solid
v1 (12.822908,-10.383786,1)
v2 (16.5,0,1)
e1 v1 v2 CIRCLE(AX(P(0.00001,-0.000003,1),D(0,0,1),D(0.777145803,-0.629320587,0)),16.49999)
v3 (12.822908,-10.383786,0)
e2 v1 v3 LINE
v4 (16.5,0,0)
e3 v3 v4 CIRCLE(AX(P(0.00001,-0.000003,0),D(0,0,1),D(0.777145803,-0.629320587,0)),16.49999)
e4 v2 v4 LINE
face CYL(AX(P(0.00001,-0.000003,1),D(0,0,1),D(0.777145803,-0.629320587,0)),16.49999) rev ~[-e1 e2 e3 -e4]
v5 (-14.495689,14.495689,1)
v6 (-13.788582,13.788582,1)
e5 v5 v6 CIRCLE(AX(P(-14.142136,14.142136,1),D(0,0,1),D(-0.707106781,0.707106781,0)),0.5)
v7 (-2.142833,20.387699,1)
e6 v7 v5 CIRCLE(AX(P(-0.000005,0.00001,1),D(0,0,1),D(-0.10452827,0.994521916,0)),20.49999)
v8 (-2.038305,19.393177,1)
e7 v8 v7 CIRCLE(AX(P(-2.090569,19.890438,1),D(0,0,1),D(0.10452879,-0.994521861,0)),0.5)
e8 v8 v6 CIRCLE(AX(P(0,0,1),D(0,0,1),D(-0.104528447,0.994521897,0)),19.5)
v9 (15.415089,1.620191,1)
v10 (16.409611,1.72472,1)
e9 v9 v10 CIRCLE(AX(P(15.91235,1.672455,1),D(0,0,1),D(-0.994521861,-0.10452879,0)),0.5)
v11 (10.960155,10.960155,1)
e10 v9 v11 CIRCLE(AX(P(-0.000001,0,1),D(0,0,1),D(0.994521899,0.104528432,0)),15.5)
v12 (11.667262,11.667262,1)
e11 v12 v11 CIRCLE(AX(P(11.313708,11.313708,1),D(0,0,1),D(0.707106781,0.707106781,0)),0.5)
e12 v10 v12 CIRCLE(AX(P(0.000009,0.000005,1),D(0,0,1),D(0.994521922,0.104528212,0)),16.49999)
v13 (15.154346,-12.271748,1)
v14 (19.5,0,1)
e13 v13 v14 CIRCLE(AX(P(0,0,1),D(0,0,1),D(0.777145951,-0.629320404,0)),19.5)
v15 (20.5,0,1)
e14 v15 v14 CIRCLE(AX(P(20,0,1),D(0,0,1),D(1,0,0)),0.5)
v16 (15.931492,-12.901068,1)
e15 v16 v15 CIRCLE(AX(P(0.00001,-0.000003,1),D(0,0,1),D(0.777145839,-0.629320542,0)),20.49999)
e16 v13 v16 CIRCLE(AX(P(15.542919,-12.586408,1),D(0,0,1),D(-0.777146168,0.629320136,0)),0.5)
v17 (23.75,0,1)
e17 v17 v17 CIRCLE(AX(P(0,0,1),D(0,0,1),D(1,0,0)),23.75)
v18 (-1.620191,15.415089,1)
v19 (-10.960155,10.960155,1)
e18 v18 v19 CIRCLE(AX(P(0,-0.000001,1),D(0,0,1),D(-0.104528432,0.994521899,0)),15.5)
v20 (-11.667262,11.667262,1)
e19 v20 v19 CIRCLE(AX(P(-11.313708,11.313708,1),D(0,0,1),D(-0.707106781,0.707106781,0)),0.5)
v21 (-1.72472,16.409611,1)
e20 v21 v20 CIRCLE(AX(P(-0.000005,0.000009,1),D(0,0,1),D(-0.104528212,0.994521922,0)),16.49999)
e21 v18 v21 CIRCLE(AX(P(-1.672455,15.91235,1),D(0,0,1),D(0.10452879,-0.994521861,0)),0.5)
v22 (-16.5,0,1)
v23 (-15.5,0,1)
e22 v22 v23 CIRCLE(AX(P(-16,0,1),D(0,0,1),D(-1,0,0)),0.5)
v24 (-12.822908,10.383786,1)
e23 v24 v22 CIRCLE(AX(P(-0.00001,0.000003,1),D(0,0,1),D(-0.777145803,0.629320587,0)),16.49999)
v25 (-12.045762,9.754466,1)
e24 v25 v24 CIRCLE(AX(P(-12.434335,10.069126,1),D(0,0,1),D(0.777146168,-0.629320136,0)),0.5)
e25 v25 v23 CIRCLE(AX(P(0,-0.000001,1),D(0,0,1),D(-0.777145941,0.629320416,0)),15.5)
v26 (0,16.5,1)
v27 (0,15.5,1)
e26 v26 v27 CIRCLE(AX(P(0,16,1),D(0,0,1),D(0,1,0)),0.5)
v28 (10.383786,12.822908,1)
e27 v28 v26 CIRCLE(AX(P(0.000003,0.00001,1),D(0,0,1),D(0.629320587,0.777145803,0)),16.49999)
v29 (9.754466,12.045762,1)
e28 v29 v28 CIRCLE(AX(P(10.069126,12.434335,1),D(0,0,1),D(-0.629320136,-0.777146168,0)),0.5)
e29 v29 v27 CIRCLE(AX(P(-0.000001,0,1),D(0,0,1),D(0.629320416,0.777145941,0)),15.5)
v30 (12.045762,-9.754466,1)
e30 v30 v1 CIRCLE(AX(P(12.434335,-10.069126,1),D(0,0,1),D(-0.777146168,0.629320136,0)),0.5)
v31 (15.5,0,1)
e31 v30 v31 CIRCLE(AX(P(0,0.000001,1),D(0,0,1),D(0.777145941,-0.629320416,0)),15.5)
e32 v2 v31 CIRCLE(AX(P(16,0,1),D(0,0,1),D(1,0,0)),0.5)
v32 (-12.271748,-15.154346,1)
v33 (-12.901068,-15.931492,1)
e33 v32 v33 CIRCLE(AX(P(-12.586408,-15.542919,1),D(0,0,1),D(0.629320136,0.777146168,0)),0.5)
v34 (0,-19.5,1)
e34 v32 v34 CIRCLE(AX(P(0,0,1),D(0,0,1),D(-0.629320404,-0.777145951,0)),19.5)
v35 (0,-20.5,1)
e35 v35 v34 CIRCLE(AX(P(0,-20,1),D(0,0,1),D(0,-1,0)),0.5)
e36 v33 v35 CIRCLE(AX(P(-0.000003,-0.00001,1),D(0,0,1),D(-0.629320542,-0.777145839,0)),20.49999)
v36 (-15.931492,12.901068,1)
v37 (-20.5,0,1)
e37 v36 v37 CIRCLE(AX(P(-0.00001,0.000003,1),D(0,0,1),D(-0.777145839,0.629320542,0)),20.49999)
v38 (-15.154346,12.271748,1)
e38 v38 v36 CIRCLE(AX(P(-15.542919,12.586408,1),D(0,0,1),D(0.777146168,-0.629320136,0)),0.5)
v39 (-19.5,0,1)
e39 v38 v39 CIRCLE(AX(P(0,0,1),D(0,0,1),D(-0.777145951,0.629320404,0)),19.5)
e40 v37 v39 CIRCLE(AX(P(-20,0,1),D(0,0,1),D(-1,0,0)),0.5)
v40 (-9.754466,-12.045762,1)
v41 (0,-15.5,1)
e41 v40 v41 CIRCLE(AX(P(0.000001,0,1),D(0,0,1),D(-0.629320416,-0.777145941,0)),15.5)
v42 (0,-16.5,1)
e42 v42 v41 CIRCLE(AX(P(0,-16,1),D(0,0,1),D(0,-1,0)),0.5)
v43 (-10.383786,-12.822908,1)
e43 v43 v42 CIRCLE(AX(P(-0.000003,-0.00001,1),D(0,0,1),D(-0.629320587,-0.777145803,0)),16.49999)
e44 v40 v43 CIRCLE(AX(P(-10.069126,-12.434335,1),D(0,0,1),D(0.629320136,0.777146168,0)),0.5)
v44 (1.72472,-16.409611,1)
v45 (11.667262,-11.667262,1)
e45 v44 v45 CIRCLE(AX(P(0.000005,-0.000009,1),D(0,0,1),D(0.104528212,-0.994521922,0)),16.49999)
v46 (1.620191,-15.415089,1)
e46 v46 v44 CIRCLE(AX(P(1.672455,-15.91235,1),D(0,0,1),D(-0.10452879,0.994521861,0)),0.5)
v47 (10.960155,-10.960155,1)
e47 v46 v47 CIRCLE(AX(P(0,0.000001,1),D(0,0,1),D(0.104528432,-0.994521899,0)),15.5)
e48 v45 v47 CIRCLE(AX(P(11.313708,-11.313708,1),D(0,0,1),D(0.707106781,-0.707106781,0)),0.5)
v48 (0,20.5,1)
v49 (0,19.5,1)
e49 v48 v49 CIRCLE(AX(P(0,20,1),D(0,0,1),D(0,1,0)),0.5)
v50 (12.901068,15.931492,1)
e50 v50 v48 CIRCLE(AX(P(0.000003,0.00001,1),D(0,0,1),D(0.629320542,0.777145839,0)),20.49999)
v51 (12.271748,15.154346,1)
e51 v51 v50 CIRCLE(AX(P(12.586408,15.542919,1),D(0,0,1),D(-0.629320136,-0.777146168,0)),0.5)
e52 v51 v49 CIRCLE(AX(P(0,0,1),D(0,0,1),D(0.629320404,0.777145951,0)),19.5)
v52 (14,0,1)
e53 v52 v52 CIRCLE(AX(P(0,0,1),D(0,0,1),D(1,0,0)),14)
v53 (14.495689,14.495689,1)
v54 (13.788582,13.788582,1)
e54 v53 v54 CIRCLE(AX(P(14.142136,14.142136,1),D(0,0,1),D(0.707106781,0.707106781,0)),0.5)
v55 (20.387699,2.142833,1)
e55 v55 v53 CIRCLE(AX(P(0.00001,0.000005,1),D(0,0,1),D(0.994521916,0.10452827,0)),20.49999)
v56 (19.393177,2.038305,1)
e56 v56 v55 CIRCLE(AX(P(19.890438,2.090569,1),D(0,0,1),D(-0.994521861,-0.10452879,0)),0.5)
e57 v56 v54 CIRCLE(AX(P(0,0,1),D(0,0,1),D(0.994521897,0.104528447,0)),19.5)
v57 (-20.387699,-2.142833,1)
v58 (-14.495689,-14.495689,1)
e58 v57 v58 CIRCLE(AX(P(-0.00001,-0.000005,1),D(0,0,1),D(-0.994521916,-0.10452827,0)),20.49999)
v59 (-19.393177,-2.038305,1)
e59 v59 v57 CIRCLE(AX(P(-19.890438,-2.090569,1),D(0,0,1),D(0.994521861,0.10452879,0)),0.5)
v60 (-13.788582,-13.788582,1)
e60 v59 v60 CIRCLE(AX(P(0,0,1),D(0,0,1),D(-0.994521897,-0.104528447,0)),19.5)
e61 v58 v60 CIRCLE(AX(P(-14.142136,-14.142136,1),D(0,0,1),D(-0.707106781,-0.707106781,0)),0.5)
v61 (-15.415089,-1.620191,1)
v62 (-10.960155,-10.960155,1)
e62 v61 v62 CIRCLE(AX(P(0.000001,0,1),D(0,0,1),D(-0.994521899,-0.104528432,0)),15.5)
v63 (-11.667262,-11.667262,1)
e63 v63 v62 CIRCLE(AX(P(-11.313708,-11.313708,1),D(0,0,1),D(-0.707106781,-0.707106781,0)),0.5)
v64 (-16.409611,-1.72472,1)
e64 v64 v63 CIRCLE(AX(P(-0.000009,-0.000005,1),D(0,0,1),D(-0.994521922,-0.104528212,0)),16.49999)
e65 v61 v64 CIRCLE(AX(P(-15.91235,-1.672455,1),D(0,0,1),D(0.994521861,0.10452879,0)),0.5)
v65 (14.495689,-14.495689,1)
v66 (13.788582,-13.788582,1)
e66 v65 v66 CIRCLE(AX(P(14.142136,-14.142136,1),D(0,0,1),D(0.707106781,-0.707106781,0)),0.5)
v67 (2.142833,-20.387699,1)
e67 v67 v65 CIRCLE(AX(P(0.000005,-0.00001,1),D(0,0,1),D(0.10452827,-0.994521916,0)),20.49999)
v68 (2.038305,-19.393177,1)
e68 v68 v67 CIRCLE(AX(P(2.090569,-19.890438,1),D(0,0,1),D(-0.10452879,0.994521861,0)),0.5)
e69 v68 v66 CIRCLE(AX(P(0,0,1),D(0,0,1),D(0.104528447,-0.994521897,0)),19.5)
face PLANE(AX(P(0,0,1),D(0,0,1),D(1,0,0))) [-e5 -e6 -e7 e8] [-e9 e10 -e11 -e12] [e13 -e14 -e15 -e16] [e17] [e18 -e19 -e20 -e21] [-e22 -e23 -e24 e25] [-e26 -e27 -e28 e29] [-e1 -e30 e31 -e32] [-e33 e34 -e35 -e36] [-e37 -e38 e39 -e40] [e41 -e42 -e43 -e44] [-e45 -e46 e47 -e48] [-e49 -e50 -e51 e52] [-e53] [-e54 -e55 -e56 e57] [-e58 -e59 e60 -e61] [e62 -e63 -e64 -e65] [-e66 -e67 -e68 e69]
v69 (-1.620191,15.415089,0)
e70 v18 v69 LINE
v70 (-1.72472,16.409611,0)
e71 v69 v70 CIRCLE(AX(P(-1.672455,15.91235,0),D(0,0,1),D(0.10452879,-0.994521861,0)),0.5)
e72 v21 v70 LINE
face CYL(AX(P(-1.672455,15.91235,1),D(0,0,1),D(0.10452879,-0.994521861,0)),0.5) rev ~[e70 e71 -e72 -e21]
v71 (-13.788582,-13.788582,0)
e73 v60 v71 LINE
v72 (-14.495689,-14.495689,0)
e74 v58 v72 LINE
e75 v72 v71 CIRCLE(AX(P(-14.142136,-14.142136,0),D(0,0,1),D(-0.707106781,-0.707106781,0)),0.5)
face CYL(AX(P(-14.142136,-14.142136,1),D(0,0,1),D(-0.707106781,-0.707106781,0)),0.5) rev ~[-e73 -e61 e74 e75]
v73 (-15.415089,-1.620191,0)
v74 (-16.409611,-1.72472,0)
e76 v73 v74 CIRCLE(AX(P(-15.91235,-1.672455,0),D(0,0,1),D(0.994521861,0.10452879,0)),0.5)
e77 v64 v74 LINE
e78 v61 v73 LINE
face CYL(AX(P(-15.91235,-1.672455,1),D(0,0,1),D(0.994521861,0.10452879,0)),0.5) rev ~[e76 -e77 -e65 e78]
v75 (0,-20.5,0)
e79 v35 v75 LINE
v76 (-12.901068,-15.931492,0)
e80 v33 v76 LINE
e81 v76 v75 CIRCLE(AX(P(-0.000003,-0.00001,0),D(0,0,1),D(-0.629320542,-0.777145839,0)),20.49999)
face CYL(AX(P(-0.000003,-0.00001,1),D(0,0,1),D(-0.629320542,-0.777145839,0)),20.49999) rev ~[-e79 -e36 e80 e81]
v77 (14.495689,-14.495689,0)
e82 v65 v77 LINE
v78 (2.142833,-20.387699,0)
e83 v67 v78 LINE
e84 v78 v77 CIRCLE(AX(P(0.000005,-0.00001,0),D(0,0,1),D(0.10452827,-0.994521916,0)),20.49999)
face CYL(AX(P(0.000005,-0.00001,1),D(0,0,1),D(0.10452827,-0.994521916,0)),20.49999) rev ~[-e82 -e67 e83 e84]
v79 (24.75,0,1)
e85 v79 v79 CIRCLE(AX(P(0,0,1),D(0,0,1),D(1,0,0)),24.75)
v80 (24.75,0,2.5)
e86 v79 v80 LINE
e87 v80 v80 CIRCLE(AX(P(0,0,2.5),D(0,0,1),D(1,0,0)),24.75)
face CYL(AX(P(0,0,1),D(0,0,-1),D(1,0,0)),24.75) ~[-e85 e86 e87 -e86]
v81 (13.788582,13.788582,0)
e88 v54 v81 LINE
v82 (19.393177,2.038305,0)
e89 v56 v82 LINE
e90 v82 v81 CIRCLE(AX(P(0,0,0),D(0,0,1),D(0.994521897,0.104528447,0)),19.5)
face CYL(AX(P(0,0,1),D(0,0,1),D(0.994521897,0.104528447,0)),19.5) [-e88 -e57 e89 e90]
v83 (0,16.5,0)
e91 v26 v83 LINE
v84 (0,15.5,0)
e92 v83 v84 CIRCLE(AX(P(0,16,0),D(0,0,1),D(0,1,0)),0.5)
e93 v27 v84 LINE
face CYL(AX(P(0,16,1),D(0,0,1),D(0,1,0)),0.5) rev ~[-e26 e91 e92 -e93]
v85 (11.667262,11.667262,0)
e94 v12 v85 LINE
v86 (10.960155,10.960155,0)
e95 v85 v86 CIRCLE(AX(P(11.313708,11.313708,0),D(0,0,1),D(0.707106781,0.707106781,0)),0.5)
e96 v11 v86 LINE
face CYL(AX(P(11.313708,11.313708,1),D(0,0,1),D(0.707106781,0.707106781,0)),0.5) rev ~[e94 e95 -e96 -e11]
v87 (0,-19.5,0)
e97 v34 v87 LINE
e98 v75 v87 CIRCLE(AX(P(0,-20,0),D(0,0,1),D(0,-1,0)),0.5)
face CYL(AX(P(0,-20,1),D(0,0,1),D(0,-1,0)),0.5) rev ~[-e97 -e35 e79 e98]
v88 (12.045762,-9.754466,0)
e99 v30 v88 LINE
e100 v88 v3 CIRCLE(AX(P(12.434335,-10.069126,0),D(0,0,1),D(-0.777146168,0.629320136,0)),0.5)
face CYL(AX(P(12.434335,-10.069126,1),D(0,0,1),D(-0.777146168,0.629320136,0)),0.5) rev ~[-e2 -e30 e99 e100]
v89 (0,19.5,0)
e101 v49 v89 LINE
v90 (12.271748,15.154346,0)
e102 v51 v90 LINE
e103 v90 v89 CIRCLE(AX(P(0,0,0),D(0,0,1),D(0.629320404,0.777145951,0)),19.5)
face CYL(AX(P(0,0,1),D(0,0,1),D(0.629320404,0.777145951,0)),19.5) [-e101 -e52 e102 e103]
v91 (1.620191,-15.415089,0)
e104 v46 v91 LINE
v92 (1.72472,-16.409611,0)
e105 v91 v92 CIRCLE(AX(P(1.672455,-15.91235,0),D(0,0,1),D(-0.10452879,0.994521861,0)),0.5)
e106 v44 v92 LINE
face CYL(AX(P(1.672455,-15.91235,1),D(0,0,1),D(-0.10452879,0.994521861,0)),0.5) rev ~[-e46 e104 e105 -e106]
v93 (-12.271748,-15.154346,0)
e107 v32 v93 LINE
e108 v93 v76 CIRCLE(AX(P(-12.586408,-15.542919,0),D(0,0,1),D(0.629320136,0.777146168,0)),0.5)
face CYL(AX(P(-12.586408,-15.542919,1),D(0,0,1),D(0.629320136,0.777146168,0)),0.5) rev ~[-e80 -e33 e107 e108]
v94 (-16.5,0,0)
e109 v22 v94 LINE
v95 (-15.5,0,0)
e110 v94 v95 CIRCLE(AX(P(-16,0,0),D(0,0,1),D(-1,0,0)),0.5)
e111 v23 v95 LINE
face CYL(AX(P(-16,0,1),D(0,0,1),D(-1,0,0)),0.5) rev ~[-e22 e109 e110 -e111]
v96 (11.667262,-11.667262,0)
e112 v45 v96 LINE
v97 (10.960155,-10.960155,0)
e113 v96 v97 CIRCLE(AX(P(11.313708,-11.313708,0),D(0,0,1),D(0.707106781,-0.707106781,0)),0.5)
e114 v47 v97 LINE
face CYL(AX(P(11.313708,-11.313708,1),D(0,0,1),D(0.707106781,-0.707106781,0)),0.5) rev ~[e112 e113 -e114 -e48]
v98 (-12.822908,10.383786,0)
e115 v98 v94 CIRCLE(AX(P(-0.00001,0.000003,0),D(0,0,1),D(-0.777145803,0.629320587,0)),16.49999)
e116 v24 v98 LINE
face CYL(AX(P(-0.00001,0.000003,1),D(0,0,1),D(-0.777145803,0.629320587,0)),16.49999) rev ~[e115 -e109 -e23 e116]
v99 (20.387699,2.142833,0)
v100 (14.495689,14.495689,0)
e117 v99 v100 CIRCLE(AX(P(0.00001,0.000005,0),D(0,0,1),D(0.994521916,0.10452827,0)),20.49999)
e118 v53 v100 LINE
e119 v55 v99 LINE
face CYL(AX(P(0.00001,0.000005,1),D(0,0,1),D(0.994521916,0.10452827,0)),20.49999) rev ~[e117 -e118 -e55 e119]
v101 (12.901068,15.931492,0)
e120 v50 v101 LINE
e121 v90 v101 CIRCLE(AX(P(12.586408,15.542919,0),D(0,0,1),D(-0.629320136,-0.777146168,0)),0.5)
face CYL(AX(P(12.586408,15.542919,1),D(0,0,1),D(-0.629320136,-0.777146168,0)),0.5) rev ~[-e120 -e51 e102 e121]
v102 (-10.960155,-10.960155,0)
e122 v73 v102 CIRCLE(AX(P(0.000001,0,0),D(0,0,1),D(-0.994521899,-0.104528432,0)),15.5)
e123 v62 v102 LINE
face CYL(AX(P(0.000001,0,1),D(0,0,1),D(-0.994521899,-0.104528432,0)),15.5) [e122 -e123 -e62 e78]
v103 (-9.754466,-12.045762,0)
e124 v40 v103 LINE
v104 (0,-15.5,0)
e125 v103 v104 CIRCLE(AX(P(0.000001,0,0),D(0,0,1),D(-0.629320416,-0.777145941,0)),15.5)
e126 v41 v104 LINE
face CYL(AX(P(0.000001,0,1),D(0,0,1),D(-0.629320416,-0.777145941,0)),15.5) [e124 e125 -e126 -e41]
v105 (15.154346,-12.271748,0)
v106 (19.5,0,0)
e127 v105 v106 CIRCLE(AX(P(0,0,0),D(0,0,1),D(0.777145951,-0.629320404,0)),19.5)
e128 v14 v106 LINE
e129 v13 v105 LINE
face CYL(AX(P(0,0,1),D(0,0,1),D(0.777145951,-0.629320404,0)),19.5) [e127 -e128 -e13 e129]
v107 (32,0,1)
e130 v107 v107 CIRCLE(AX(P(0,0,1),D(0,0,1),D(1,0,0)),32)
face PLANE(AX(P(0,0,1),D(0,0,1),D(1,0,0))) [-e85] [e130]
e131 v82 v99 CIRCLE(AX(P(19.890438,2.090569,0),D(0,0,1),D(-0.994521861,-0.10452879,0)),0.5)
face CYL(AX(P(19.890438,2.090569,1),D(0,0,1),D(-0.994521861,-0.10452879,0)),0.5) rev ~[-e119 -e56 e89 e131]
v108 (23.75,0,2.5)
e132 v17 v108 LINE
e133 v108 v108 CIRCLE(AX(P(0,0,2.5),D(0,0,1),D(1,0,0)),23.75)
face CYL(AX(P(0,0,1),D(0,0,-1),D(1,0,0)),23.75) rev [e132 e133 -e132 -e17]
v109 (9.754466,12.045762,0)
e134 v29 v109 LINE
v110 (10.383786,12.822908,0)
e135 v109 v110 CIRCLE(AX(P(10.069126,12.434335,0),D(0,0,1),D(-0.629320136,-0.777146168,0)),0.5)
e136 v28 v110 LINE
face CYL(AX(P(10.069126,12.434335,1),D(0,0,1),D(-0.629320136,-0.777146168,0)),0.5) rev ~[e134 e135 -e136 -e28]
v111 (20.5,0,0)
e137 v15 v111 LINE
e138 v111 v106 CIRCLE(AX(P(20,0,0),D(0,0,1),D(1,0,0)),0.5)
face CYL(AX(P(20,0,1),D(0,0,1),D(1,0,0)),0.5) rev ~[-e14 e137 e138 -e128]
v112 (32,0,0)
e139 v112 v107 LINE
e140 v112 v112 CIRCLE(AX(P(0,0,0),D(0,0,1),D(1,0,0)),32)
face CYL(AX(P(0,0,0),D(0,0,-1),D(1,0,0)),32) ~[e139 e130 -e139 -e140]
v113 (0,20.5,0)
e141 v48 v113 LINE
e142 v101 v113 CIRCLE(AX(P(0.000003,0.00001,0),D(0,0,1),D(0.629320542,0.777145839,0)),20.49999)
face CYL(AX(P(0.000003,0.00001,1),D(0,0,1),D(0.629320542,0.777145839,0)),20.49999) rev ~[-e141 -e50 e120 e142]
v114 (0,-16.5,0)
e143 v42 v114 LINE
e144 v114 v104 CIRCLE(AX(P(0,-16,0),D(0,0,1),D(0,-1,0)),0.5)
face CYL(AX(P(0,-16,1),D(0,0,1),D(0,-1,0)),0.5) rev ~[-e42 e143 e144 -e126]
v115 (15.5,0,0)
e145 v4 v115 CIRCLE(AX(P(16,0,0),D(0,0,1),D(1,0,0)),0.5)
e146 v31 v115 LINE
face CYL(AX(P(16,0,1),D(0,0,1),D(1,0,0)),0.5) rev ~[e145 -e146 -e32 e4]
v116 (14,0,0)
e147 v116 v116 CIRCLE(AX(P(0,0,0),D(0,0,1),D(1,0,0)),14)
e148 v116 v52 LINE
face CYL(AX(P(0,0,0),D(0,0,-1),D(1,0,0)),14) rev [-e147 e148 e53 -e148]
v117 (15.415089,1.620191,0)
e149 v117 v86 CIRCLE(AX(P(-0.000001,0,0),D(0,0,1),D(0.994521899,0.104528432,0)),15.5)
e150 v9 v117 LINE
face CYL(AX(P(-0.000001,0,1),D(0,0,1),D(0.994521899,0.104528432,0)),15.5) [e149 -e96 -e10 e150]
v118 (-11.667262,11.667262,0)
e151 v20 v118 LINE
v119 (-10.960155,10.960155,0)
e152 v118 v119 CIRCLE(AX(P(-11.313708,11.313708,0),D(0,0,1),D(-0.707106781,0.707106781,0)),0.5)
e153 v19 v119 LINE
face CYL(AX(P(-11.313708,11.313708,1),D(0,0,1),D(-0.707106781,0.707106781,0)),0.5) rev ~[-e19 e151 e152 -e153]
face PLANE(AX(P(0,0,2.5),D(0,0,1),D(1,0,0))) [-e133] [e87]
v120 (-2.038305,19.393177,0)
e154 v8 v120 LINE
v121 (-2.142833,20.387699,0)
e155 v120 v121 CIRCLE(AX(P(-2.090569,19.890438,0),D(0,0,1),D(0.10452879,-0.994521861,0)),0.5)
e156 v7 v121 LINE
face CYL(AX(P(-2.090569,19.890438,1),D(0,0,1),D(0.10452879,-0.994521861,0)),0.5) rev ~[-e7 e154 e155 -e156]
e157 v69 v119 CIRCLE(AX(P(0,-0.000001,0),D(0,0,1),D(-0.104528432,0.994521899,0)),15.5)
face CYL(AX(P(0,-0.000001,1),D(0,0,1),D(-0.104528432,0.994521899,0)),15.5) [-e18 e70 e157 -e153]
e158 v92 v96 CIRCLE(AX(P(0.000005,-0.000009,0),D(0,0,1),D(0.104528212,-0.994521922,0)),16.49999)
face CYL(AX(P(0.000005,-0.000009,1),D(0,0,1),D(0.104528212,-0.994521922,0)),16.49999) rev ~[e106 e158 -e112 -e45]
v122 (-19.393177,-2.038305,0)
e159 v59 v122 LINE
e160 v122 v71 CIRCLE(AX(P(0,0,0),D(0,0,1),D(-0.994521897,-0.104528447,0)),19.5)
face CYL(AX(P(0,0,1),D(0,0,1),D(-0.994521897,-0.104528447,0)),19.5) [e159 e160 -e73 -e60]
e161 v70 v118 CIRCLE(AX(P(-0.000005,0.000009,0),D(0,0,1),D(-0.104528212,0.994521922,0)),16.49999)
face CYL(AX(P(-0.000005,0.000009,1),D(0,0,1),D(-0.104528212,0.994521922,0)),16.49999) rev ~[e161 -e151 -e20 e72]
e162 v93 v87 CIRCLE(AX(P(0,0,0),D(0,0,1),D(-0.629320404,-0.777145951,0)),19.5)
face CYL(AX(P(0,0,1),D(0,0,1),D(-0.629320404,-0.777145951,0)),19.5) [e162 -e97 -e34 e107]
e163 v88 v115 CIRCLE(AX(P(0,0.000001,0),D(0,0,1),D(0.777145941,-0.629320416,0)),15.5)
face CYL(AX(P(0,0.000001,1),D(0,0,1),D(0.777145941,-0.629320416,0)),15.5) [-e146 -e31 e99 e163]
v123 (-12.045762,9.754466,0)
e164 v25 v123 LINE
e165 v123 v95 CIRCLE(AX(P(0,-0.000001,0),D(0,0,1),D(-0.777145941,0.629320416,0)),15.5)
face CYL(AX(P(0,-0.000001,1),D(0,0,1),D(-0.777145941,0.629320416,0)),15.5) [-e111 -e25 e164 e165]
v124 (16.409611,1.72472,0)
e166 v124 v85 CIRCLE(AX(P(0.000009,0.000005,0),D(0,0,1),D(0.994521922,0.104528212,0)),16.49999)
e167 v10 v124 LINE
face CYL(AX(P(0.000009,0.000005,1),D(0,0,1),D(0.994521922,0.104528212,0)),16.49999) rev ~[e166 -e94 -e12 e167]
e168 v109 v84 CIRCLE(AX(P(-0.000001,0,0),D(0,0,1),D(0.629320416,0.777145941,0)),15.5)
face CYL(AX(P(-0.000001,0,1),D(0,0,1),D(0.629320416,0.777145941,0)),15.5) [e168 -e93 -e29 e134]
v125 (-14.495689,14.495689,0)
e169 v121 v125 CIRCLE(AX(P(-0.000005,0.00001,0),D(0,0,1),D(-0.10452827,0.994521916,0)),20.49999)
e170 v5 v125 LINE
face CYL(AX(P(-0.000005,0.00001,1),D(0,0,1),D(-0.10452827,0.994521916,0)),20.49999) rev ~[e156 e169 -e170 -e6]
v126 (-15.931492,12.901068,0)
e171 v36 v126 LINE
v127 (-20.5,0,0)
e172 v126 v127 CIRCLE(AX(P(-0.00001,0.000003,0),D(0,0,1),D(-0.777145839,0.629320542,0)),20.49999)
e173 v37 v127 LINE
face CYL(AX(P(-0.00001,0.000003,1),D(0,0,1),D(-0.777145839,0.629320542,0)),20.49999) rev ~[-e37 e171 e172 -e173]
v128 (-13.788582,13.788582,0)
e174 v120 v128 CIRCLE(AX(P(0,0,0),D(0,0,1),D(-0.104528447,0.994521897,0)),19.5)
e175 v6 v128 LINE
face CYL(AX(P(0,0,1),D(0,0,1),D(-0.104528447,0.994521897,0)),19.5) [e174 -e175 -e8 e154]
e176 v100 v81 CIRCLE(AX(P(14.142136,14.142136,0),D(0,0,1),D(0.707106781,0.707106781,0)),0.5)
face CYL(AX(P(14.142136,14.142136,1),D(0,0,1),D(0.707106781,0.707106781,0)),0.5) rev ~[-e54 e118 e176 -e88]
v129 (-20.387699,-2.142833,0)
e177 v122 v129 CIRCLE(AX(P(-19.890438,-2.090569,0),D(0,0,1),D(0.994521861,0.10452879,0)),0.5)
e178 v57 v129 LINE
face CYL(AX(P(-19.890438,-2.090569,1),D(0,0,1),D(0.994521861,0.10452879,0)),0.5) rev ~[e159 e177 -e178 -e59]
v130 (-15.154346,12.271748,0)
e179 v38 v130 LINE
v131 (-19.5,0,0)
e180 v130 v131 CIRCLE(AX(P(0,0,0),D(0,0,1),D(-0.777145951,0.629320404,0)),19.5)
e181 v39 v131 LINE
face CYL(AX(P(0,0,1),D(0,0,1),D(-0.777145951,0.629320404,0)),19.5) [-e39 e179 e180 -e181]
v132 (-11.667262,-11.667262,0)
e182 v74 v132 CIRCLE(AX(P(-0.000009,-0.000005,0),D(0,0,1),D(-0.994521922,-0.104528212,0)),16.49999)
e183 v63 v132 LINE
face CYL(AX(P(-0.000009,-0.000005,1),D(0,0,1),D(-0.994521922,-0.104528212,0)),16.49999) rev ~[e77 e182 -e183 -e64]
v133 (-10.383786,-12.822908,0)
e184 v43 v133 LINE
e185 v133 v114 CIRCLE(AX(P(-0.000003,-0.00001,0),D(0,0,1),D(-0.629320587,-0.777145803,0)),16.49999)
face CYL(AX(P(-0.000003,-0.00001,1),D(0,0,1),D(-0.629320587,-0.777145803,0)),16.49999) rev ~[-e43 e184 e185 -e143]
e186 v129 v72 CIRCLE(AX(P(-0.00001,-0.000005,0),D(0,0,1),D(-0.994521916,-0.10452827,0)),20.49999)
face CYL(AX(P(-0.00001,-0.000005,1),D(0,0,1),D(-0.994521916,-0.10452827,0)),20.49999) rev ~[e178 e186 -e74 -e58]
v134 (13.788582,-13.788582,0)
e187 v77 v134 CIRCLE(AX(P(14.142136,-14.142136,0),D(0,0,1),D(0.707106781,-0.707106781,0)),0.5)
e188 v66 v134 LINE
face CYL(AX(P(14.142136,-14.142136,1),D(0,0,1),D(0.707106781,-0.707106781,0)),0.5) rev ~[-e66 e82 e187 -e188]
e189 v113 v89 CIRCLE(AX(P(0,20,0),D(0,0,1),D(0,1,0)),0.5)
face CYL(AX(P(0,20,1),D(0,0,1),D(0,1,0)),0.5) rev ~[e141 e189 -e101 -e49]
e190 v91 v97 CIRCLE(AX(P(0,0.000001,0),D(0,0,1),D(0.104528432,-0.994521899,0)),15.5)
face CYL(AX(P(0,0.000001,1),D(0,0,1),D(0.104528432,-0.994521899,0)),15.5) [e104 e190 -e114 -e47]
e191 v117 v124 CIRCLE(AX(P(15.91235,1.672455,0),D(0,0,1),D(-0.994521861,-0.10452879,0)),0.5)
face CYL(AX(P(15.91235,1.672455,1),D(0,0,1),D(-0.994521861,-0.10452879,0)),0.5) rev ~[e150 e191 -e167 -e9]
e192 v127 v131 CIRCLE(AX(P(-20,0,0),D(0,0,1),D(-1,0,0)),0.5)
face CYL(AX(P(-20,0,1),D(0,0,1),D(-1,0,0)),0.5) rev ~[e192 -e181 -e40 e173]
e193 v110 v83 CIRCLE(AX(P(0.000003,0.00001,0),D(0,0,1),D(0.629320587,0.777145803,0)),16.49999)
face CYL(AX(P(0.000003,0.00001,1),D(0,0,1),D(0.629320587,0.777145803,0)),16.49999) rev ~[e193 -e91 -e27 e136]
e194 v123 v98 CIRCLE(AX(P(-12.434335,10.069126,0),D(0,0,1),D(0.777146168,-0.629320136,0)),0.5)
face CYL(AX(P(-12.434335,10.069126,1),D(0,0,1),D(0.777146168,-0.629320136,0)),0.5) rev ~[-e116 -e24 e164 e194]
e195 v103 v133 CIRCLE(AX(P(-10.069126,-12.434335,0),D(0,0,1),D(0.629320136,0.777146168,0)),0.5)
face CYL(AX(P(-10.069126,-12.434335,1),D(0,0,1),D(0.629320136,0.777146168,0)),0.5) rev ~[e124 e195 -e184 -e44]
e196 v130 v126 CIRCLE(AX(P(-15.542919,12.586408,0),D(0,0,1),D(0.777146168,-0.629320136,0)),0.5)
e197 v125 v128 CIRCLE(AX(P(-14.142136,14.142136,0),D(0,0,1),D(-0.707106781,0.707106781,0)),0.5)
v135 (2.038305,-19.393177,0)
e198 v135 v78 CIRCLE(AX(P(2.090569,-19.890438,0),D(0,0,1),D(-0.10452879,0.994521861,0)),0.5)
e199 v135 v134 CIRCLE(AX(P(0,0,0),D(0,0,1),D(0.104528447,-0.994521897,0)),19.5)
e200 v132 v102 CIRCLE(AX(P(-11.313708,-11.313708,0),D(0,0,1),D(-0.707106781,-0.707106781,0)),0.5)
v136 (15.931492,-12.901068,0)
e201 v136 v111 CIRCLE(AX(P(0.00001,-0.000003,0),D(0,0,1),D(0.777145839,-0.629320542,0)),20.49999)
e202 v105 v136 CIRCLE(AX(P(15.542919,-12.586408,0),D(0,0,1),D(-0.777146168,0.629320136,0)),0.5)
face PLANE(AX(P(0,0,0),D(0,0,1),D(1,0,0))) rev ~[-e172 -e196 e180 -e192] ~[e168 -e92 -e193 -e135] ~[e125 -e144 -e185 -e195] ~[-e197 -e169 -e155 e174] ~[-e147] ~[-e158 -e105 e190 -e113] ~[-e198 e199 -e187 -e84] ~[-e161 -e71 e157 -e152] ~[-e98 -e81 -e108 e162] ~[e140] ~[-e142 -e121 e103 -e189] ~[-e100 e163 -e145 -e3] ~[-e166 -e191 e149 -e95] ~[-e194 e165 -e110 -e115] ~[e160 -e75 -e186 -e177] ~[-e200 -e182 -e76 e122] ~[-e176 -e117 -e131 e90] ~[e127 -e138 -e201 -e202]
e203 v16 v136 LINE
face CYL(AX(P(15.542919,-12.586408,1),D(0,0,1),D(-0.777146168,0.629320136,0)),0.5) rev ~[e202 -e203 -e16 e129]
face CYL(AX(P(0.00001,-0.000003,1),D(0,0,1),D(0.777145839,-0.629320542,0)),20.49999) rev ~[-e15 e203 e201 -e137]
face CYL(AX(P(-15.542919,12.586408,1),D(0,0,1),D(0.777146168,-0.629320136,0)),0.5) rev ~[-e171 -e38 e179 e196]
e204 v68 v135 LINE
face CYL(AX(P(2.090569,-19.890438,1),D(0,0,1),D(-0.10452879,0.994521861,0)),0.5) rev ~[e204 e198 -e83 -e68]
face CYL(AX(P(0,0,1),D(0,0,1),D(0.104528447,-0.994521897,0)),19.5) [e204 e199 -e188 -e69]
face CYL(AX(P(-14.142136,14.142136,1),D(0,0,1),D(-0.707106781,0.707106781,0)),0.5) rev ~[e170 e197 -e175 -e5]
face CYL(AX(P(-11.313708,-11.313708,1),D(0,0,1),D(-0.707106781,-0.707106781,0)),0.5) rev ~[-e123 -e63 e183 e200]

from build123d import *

# Parameters (mm, degrees)
SKETCH_R           = 32
SKETCH_R_2         = 14
PAD_DEPTH          = 1
SKETCH001_R        = 24.75
SKETCH001_R_2      = 23.75
PAD001_DEPTH       = 1.5
POCKET_DEPTH       = 182.089376
POLARPATTERN_COUNT = 8


with BuildPart() as part:
    # Sketch → Pad (new body)
    with BuildSketch(Plane.XY):
        Circle(SKETCH_R)
        Circle(SKETCH_R_2, mode=Mode.SUBTRACT)
    extrude(amount=PAD_DEPTH)

    # Sketch001 (on Face4 of Pad) → Pad001 (join)
    with BuildSketch(Plane.XY.offset(1)):
        Circle(SKETCH001_R)
        Circle(SKETCH001_R_2, mode=Mode.SUBTRACT)
    extrude(amount=PAD001_DEPTH)

    # Sketch002 (on Face6 of Pad001) → Pocket (cut, through all)
    with BuildSketch(Plane.XY.offset(1)):
        with BuildLine():
            ThreePointArc((9.754466, 12.045762), (5.174006, 14.610943), (0, 15.5))
            ThreePointArc((0, 16.5), (-0.5, 16), (0, 15.5))
            ThreePointArc((10.383786, 12.822908), (5.507813, 15.553585), (0, 16.5))
            ThreePointArc((9.754466, 12.045762), (10.457699, 12.119675), (10.383786, 12.822908))
        make_face()
        with BuildLine():
            ThreePointArc((12.271748, 15.154346), (6.509234, 18.381509), (0, 19.5))
            ThreePointArc((0, 20.5), (-0.5, 20), (0, 19.5))
            ThreePointArc((12.901068, 15.931492), (6.843041, 19.324151), (0, 20.5))
            ThreePointArc((12.271748, 15.154346), (12.974981, 15.228259), (12.901068, 15.931492))
        make_face()
    pocket = extrude(amount=-POCKET_DEPTH, mode=Mode.SUBTRACT)

    # PolarPattern: Pocket ×8 about axis
    polarpattern_axis = Axis((0, 0, 1), (0, 0, 1))
    for i in range(1, POLARPATTERN_COUNT):
        add(pocket.rotate(polarpattern_axis, i * 360 / POLARPATTERN_COUNT), mode=Mode.SUBTRACT)


solid = part.part
